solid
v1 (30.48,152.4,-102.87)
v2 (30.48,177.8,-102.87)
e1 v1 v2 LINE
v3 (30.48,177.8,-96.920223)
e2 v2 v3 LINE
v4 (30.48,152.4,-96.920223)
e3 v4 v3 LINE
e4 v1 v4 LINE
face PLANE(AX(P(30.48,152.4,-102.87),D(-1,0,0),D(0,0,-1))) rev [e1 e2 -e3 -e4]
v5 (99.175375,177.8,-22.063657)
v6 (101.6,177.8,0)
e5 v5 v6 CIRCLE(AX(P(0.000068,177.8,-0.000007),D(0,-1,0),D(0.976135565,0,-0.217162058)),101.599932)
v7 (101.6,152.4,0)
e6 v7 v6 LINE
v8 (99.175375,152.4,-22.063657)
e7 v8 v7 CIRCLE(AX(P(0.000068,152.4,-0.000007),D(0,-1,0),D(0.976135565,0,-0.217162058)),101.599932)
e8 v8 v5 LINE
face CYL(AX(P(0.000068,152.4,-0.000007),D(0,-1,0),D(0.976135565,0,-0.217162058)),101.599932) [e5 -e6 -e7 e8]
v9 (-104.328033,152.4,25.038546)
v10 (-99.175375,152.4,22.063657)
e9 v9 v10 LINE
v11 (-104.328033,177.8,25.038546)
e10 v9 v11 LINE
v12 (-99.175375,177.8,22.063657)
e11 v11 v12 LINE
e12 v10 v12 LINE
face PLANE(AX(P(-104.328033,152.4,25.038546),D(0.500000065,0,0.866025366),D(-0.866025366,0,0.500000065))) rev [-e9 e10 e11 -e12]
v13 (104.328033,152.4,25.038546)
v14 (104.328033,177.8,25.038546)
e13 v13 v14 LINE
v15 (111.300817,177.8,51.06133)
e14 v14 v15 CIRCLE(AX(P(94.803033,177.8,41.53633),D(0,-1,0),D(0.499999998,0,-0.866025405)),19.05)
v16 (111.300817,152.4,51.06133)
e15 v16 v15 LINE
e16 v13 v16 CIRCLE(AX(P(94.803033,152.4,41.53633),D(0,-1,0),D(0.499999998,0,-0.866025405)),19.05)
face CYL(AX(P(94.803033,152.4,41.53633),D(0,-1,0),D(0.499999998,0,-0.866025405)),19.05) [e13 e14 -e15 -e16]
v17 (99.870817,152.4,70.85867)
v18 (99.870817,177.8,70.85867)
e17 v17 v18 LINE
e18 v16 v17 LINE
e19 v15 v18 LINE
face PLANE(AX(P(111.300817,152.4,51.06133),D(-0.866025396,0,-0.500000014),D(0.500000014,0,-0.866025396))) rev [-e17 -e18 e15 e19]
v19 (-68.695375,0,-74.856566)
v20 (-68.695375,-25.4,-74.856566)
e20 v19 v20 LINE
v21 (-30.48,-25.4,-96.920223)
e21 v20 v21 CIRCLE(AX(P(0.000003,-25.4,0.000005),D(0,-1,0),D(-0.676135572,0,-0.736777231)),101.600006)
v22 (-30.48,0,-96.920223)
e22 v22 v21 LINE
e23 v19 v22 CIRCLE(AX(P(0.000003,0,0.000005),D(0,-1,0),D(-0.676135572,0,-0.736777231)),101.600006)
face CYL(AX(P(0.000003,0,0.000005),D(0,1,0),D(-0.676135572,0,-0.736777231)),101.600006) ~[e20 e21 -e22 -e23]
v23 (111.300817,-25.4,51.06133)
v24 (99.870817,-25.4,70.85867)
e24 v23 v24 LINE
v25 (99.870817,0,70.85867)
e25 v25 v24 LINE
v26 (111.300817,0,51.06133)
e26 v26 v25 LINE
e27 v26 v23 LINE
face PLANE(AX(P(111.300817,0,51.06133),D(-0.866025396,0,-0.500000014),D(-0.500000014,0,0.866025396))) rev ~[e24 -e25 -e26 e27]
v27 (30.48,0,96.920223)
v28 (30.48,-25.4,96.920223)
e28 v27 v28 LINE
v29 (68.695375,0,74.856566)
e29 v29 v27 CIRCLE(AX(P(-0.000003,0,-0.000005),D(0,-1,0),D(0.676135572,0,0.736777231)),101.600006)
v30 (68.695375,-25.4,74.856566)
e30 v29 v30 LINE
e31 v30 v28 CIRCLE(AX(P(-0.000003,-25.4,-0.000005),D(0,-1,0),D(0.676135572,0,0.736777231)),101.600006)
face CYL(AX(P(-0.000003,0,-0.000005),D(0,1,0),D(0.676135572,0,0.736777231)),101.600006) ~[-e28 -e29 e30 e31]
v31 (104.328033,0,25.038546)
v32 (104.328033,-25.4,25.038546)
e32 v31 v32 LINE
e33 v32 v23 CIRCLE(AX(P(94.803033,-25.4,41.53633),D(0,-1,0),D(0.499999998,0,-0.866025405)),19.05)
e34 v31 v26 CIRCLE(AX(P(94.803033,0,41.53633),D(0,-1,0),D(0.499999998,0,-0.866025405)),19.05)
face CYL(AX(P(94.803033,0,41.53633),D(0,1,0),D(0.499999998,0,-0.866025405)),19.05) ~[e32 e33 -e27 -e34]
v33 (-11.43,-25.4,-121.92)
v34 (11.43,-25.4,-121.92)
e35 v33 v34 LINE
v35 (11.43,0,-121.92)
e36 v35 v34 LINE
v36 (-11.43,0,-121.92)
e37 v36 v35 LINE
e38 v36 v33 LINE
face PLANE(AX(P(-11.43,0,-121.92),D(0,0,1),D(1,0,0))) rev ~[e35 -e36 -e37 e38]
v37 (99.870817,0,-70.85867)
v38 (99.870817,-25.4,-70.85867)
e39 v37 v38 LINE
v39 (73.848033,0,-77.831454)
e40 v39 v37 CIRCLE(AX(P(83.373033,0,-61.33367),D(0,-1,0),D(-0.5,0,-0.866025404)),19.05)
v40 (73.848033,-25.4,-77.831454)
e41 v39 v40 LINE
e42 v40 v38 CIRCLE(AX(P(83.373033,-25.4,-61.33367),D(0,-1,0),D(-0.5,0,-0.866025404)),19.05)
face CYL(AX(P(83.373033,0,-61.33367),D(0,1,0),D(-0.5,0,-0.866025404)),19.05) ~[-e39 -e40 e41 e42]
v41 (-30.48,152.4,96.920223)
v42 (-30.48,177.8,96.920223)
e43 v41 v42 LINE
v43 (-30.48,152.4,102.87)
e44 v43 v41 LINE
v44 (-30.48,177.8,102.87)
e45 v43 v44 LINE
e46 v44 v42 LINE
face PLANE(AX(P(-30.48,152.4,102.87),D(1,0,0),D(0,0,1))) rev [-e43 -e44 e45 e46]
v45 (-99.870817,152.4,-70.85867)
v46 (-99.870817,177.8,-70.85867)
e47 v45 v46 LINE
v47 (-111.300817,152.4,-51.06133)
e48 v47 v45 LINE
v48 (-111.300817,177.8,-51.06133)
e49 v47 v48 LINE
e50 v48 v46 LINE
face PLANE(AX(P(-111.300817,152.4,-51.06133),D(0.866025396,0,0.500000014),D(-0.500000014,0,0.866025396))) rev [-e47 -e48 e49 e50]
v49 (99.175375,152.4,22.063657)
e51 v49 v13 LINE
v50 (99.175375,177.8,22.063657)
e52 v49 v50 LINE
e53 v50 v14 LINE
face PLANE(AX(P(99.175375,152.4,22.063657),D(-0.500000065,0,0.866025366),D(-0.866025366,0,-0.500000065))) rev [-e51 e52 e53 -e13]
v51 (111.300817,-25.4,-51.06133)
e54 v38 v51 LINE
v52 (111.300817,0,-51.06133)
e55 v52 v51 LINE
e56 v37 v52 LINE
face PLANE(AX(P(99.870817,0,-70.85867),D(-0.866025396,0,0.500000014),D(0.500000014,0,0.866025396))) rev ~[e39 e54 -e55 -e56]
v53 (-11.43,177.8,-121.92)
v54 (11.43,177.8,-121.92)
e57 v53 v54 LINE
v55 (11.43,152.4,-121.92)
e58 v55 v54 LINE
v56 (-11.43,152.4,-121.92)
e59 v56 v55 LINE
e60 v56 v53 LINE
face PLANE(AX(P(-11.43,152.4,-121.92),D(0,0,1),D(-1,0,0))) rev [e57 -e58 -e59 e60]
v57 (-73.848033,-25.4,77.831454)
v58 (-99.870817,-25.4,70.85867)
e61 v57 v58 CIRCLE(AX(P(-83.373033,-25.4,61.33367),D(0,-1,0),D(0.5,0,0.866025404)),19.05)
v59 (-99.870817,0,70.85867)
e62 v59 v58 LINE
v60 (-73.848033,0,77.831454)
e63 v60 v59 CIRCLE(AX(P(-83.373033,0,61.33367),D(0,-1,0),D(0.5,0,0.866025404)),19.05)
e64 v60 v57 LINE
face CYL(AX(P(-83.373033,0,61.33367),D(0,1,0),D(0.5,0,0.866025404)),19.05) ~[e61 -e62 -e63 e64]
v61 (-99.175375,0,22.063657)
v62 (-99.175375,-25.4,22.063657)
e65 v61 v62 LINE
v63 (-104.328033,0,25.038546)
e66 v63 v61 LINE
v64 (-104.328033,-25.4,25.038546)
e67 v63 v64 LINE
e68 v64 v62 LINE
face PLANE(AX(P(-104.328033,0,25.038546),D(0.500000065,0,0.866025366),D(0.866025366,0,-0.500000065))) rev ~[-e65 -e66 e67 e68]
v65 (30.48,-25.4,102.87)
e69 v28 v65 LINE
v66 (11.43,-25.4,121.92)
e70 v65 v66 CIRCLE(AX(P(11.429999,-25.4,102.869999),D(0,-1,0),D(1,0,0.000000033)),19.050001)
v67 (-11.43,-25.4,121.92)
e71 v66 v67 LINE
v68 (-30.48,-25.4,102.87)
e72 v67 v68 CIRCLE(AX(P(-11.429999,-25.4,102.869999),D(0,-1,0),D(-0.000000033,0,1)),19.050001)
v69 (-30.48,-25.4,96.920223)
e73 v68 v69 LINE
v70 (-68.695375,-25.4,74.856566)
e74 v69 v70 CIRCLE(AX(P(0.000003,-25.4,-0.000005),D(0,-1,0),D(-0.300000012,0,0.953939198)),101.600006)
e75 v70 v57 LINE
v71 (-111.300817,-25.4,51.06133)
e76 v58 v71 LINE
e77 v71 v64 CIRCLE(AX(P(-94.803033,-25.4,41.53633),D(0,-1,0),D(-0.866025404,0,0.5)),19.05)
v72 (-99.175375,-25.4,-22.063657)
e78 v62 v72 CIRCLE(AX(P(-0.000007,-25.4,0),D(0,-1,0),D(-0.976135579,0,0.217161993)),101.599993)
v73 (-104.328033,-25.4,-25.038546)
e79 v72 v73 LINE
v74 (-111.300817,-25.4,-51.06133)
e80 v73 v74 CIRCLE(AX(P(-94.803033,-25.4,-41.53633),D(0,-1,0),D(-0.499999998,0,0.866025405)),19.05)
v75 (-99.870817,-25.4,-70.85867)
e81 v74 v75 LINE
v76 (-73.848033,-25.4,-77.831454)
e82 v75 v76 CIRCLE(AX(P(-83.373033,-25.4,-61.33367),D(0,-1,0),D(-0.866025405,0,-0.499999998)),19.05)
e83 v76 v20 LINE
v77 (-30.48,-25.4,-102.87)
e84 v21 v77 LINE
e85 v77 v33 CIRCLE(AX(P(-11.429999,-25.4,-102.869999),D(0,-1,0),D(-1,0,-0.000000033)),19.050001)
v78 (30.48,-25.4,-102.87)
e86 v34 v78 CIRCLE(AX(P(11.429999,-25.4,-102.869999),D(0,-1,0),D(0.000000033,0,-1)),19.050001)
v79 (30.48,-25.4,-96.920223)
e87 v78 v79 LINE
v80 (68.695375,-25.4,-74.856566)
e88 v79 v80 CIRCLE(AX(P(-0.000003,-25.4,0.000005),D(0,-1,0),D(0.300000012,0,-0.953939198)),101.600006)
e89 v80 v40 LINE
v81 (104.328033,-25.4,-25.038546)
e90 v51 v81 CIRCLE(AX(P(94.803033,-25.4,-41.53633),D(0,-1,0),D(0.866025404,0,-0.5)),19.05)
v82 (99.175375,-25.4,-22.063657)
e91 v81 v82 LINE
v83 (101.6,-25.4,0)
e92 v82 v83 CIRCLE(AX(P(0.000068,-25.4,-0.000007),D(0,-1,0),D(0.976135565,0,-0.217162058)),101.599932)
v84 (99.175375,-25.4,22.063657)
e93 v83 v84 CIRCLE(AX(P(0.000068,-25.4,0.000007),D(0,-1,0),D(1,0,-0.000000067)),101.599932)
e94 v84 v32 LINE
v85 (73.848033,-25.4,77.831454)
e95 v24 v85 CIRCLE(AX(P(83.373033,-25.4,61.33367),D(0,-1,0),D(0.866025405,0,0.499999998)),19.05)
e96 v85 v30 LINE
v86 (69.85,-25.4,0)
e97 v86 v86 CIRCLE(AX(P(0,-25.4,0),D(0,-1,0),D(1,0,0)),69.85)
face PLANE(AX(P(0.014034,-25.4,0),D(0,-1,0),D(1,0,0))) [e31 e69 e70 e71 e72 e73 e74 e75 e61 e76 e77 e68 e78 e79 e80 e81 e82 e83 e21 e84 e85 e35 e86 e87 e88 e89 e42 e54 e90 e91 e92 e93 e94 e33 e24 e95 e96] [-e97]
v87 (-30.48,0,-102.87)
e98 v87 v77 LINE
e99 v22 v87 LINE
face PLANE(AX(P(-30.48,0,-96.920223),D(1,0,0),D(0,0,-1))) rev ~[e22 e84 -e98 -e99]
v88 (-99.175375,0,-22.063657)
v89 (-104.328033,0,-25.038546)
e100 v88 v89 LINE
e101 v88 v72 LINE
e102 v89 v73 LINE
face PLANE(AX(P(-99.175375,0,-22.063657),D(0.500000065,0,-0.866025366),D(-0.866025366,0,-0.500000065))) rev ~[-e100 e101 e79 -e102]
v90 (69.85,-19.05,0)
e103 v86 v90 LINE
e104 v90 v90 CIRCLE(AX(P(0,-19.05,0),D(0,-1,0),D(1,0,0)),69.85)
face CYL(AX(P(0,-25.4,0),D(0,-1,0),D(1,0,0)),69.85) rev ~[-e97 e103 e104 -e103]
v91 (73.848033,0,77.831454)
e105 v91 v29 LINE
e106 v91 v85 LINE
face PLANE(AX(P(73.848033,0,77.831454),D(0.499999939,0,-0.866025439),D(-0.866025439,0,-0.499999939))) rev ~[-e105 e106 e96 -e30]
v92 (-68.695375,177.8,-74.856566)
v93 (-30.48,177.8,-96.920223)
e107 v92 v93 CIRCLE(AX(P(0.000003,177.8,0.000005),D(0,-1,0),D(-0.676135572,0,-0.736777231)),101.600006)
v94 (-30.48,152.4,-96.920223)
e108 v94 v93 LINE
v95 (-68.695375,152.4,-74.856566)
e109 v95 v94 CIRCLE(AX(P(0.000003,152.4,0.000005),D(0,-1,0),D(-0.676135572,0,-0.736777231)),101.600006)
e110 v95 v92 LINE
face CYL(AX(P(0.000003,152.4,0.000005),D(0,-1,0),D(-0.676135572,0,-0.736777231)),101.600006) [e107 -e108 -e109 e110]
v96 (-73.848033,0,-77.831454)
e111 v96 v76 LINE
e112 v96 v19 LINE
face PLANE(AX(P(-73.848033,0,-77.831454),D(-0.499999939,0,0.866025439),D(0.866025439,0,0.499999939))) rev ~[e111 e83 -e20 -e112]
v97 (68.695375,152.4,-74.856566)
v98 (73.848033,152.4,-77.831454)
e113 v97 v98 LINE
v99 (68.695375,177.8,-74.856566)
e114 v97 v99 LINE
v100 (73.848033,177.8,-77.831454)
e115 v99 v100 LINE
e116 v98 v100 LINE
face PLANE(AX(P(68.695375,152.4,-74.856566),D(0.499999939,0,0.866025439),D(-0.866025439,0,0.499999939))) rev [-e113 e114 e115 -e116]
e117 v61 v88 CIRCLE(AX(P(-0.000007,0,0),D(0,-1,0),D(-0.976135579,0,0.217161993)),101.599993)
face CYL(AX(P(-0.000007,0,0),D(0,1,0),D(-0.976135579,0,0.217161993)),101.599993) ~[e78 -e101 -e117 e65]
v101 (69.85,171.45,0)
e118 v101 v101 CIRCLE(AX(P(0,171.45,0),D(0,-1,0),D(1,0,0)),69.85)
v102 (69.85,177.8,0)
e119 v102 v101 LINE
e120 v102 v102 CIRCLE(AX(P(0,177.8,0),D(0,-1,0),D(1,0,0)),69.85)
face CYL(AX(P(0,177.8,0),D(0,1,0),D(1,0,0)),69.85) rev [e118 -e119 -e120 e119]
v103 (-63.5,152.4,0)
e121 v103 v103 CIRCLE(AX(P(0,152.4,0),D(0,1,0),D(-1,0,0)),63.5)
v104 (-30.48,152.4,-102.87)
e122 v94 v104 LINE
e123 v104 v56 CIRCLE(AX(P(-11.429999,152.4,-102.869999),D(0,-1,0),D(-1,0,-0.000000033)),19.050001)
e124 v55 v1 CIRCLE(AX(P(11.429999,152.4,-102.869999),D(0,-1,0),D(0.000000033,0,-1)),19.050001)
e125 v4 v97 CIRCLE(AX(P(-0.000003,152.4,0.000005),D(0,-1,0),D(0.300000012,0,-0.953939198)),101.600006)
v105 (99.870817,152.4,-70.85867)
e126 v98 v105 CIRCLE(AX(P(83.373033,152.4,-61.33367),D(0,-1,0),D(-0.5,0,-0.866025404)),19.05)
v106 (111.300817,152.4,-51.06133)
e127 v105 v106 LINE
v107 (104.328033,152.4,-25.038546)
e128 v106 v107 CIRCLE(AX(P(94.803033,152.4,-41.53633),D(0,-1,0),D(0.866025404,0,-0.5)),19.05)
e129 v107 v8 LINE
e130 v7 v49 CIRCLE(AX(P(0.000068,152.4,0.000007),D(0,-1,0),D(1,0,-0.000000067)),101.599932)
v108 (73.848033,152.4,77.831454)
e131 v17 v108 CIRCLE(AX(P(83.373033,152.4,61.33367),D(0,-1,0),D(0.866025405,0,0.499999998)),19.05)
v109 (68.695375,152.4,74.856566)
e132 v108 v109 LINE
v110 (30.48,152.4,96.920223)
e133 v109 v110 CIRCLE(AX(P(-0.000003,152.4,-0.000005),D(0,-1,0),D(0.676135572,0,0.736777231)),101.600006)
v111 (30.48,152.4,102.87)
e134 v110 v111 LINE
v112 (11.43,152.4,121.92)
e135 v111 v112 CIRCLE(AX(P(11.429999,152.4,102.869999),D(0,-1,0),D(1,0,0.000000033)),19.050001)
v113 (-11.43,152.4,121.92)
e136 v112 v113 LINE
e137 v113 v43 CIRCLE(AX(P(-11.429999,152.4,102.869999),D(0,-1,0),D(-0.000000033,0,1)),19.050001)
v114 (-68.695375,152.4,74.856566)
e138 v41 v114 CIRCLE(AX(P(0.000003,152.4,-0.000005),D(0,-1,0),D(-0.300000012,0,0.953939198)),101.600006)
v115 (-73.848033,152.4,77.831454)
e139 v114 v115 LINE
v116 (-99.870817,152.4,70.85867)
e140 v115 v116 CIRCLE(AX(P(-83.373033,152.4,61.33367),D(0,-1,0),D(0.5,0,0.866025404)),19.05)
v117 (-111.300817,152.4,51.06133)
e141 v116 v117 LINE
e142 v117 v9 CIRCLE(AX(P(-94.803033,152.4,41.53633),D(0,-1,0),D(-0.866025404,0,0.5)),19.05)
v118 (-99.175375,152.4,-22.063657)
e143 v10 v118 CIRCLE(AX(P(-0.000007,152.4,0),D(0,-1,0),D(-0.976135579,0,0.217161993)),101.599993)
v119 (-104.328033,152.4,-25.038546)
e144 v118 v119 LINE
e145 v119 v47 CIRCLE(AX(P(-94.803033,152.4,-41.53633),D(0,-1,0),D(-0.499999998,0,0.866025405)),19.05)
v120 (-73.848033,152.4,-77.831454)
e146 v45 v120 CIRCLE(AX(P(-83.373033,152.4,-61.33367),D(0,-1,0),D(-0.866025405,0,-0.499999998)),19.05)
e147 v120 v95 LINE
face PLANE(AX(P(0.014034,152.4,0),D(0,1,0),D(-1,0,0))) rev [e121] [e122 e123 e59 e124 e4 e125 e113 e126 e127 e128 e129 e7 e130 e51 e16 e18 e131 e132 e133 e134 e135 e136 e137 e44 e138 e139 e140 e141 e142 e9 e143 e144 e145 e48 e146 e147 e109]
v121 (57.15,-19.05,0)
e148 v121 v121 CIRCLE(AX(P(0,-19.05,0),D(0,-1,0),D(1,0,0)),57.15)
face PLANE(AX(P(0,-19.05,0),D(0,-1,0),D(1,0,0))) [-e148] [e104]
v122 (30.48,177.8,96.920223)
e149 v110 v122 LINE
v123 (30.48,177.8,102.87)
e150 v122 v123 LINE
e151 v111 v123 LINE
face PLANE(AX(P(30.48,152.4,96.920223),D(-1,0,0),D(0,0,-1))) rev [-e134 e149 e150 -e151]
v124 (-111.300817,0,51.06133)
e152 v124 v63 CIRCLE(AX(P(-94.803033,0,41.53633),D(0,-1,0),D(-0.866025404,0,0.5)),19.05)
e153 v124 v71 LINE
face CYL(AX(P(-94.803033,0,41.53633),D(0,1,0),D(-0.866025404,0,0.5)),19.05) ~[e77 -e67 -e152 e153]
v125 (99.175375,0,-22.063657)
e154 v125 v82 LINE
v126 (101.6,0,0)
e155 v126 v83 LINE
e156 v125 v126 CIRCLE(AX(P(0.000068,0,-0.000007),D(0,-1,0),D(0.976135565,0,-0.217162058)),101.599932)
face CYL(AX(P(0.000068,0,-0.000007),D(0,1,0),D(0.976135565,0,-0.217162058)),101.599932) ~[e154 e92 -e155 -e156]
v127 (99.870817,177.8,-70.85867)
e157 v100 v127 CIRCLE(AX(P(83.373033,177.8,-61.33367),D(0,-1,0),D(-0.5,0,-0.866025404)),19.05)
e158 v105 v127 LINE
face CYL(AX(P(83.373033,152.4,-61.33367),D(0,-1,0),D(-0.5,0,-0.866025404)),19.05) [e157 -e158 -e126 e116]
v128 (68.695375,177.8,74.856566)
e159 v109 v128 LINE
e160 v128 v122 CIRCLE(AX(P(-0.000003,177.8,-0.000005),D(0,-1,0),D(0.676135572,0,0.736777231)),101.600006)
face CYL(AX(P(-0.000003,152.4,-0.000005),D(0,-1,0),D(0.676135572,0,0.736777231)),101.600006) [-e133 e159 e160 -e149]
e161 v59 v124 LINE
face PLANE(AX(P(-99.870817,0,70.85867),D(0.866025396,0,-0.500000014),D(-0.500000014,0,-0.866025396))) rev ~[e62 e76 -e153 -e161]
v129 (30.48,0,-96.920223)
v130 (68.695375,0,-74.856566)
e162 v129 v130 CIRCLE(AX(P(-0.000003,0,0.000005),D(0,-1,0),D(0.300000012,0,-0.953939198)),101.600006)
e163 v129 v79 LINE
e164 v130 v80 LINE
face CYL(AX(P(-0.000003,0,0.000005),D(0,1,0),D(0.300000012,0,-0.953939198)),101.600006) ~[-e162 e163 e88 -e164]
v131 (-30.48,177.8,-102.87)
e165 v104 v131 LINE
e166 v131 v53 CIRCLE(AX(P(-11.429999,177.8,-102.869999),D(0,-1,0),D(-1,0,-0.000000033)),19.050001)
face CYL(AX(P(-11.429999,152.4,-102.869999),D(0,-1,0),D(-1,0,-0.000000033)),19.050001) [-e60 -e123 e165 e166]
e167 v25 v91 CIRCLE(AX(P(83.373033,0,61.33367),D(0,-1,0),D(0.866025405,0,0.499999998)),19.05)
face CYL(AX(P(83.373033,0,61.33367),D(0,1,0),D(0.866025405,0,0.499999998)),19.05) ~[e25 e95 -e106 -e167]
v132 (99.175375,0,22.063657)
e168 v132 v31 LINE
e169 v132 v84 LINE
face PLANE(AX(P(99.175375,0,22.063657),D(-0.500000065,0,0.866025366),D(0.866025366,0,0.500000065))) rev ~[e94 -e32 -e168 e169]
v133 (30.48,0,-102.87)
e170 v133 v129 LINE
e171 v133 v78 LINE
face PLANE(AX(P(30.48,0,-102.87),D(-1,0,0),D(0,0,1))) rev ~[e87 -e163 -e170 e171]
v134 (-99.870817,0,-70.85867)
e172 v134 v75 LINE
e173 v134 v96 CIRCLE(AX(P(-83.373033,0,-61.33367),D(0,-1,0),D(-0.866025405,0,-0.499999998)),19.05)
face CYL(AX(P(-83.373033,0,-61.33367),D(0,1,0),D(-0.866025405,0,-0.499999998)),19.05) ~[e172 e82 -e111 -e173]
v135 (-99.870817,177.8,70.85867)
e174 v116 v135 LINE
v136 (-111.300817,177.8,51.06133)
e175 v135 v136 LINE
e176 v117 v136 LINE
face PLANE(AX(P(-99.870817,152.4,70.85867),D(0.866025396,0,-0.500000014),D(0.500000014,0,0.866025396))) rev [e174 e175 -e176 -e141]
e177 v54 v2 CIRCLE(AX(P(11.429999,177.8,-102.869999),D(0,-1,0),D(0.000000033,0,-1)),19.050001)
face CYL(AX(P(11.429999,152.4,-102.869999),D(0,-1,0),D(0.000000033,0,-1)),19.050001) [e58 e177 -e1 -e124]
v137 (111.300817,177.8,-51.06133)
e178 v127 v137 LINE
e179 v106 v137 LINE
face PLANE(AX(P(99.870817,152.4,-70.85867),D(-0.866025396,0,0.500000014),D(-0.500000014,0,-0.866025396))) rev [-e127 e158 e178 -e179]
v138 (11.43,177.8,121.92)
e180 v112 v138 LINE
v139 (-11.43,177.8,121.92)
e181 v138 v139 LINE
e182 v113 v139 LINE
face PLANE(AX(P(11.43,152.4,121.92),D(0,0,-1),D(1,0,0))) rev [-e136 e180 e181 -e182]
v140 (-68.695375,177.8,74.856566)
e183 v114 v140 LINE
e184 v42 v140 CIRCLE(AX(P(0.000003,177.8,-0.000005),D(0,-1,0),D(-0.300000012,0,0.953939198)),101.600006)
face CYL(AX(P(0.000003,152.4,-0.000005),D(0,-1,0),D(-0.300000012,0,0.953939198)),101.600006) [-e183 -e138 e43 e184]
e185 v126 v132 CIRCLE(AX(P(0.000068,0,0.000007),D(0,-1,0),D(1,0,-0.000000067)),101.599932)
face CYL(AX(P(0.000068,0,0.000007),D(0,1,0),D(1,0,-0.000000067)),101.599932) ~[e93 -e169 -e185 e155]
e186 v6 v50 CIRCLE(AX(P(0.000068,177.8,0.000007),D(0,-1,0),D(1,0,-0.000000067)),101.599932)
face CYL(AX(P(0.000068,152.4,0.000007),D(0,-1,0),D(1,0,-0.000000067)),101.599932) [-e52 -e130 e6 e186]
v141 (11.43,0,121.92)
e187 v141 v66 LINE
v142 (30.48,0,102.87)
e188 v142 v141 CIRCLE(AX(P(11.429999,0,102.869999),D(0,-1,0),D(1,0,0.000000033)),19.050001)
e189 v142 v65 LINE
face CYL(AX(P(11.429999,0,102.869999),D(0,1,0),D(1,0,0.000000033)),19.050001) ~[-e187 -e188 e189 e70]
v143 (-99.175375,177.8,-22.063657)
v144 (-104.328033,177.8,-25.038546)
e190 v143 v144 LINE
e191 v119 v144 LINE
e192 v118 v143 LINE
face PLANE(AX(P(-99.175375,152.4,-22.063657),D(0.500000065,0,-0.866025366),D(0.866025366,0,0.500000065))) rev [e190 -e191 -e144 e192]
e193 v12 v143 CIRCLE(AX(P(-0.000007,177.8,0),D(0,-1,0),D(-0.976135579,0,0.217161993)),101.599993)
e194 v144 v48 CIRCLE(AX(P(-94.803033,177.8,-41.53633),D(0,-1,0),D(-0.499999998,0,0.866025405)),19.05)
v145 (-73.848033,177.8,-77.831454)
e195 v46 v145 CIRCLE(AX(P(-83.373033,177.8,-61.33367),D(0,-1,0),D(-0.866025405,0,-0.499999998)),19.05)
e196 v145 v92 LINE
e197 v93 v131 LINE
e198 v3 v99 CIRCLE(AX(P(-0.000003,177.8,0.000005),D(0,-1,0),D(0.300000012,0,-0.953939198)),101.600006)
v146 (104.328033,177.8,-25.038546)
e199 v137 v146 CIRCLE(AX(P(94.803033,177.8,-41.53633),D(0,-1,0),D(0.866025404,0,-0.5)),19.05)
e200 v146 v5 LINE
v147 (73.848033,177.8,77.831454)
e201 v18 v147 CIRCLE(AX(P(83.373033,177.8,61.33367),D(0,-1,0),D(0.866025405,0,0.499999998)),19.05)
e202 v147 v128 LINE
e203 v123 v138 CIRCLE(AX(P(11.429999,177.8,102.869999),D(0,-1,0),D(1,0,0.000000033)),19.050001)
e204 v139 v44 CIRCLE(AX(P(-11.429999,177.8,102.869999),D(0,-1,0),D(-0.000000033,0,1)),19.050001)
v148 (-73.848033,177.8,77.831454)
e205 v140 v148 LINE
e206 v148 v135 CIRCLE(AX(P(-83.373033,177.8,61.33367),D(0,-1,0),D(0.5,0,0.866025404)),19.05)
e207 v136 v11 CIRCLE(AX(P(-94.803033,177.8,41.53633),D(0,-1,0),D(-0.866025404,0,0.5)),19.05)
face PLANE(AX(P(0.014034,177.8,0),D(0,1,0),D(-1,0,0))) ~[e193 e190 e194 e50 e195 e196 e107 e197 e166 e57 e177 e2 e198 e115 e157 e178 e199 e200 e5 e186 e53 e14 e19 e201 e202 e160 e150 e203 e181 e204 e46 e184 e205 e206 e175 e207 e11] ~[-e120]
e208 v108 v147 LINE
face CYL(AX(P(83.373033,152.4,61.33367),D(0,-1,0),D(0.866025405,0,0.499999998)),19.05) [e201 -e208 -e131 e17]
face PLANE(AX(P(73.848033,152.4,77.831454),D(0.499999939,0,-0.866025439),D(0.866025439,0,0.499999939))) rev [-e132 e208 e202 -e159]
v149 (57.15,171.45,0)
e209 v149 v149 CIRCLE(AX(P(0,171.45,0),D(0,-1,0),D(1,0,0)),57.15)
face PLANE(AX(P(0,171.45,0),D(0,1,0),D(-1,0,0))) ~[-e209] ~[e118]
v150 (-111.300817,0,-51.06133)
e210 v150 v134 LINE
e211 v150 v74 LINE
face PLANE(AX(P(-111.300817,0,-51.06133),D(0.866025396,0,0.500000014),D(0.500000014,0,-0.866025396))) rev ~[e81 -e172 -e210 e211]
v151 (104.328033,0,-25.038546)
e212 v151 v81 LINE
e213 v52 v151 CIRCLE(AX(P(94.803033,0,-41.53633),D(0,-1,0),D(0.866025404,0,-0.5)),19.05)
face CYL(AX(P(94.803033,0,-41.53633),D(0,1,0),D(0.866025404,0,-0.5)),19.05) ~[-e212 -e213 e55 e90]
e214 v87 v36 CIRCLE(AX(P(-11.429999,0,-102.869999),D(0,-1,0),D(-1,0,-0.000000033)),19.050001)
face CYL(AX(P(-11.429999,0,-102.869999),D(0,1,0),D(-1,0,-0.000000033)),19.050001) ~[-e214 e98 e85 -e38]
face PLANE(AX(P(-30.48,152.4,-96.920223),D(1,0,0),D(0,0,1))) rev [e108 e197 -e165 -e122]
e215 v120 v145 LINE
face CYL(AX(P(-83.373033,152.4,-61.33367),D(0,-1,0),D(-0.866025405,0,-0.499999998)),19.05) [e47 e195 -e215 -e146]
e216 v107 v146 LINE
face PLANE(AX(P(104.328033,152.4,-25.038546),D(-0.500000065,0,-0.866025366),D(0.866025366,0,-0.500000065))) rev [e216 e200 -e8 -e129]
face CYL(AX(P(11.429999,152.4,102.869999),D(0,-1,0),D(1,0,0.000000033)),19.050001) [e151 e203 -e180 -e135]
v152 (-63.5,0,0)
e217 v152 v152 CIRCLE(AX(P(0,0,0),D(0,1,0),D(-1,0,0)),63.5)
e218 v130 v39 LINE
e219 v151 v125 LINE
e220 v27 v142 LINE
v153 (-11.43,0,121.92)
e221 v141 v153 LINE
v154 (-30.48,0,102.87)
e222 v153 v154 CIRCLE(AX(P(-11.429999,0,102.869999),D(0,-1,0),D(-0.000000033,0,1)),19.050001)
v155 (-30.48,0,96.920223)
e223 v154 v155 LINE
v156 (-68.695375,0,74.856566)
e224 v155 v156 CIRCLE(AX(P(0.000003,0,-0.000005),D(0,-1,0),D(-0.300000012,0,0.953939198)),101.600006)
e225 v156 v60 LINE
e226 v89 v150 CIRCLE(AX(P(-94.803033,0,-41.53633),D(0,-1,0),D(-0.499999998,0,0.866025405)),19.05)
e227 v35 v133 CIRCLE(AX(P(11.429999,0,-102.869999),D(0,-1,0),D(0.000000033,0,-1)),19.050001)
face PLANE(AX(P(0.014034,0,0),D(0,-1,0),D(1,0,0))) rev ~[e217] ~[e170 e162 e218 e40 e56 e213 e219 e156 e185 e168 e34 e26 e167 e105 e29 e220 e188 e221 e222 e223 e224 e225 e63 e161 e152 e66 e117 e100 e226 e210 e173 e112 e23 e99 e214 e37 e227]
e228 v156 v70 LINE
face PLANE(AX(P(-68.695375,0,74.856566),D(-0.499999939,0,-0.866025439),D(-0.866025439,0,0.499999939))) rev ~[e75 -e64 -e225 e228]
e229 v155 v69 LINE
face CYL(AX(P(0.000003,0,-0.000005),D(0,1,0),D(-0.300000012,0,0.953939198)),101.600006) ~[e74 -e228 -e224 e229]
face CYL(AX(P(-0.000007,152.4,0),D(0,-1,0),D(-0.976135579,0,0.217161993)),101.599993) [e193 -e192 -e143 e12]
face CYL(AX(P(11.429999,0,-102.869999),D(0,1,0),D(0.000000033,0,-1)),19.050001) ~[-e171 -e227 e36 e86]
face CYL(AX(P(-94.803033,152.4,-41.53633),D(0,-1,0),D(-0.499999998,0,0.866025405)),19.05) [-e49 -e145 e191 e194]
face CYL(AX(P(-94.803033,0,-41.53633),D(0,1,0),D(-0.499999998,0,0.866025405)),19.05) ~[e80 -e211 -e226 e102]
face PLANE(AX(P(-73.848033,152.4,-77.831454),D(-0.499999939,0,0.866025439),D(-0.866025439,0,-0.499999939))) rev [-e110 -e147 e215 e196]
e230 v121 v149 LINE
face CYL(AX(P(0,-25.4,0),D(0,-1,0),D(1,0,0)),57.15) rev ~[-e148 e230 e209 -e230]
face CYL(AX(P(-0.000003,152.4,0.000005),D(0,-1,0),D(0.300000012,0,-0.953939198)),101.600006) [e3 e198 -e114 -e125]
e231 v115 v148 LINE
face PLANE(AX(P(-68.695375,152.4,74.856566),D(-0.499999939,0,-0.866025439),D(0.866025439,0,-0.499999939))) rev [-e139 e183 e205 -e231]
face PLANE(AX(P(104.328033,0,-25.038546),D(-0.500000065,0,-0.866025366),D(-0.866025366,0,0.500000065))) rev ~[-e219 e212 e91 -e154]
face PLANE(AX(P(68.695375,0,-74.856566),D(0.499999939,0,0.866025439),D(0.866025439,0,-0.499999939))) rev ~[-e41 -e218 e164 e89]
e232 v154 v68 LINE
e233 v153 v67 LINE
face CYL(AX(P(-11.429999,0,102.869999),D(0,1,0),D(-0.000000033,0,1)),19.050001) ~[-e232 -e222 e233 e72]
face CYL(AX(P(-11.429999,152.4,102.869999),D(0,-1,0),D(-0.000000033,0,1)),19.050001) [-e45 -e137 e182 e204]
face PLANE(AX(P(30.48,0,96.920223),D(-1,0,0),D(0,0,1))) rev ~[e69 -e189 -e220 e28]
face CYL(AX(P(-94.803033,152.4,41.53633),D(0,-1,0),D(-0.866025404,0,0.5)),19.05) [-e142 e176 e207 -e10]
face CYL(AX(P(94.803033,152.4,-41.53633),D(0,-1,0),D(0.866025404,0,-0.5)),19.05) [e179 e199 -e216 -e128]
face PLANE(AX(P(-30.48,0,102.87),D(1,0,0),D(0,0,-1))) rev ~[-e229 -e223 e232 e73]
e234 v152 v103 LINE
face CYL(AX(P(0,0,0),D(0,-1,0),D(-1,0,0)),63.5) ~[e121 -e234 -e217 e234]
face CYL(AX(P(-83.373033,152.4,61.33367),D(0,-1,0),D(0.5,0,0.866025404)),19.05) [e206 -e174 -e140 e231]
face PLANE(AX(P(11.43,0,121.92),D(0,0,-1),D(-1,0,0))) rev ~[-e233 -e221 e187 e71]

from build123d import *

# Parameters (mm, degrees)
F1_DEPTH = 25.4
F2_R     = 63.5
F3_DEPTH = 152.4
F6_R     = 57.15
F7_DEPTH = 228.6
F8_R     = 69.85
F8_R_2   = 57.15
F9_DEPTH = 6.35


with BuildPart() as f1:
    # F0 (on Front) → F1 (new body)
    with BuildSketch(Plane.XZ):
        with BuildLine():
            ThreePointArc((99.175375, -22.063657), (100.992025, -11.098241), (101.6, 0))
            ThreePointArc((101.6, 0), (100.992025, 11.098241), (99.175375, 22.063657))
            ThreePointArc((99.175375, 22.063657), (87.988181, 50.8), (68.695375, 74.856566))
            ThreePointArc((68.695375, 74.856566), (50.8, 87.988181), (30.48, 96.920223))
            ThreePointArc((30.48, 96.920223), (0, 101.6), (-30.48, 96.920223))
            ThreePointArc((-30.48, 96.920223), (-50.8, 87.988181), (-68.695375, 74.856566))
            ThreePointArc((-68.695375, 74.856566), (-87.988181, 50.8), (-99.175375, 22.063657))
            ThreePointArc((-99.175375, 22.063657), (-101.6, 0), (-99.175375, -22.063657))
            ThreePointArc((-99.175375, -22.063657), (-87.988181, -50.8), (-68.695375, -74.856566))
            ThreePointArc((-68.695375, -74.856566), (-50.8, -87.988181), (-30.48, -96.920223))
            ThreePointArc((-30.48, -96.920223), (0, -101.6), (30.48, -96.920223))
            ThreePointArc((30.48, -96.920223), (50.8, -87.988181), (68.695375, -74.856566))
            ThreePointArc((68.695375, -74.856566), (87.988181, -50.8), (99.175375, -22.063657))
        make_face()
        with BuildLine():
            ThreePointArc((-30.48, 96.920223), (0, 101.6), (30.48, 96.920223))
            Line((30.48, 96.920223), (30.48, 102.87))
            ThreePointArc((30.48, 102.87), (24.900384, 116.340384), (11.43, 121.92))
            Line((11.43, 121.92), (-11.43, 121.92))
            ThreePointArc((-11.43, 121.92), (-24.900384, 116.340384), (-30.48, 102.87))
            Line((-30.48, 102.87), (-30.48, 96.920223))
        make_face()
        with BuildLine():
            ThreePointArc((68.695375, 74.856566), (87.988181, 50.8), (99.175375, 22.063657))
            Line((99.175375, 22.063657), (104.328033, 25.038546))
            ThreePointArc((104.328033, 25.038546), (113.20392, 36.605827), (111.300817, 51.06133))
            Line((111.300817, 51.06133), (99.870817, 70.85867))
            ThreePointArc((99.870817, 70.85867), (88.303536, 79.734557), (73.848033, 77.831454))
            Line((73.848033, 77.831454), (68.695375, 74.856566))
        make_face()
        with BuildLine():
            Line((104.328033, -25.038546), (99.175375, -22.063657))
            ThreePointArc((99.175375, -22.063657), (87.988181, -50.8), (68.695375, -74.856566))
            Line((68.695375, -74.856566), (73.848033, -77.831454))
            ThreePointArc((73.848033, -77.831454), (88.303536, -79.734557), (99.870817, -70.85867))
            Line((99.870817, -70.85867), (111.300817, -51.06133))
            ThreePointArc((111.300817, -51.06133), (113.20392, -36.605827), (104.328033, -25.038546))
        make_face()
        with BuildLine():
            Line((30.48, -102.87), (30.48, -96.920223))
            ThreePointArc((30.48, -96.920223), (0, -101.6), (-30.48, -96.920223))
            Line((-30.48, -96.920223), (-30.48, -102.87))
            ThreePointArc((-30.48, -102.87), (-24.900384, -116.340384), (-11.43, -121.92))
            Line((-11.43, -121.92), (11.43, -121.92))
            ThreePointArc((11.43, -121.92), (24.900384, -116.340384), (30.48, -102.87))
        make_face()
        with BuildLine():
            Line((-73.848033, -77.831454), (-68.695375, -74.856566))
            ThreePointArc((-68.695375, -74.856566), (-87.988181, -50.8), (-99.175375, -22.063657))
            Line((-99.175375, -22.063657), (-104.328033, -25.038546))
            ThreePointArc((-104.328033, -25.038546), (-113.20392, -36.605827), (-111.300817, -51.06133))
            Line((-111.300817, -51.06133), (-99.870817, -70.85867))
            ThreePointArc((-99.870817, -70.85867), (-88.303536, -79.734557), (-73.848033, -77.831454))
        make_face()
        with BuildLine():
            ThreePointArc((-99.175375, 22.063657), (-87.988181, 50.8), (-68.695375, 74.856566))
            Line((-68.695375, 74.856566), (-73.848033, 77.831454))
            ThreePointArc((-73.848033, 77.831454), (-88.303536, 79.734557), (-99.870817, 70.85867))
            Line((-99.870817, 70.85867), (-111.300817, 51.06133))
            ThreePointArc((-111.300817, 51.06133), (-113.20392, 36.605827), (-104.328033, 25.038546))
            Line((-104.328033, 25.038546), (-99.175375, 22.063657))
        make_face()
    extrude(amount=F1_DEPTH)

    # F2 (on face) → F3 (join)
    with BuildSketch(Plane(origin=(0, 0, 0), x_dir=(-1, 0, 0), z_dir=(0, 1, 0))):
        Circle(F2_R)
    extrude(amount=F3_DEPTH)

    # F5: F1 across plane


with BuildPart() as f1_1:
    add(f1.part)
    add(f1.part.mirror(Plane(origin=(0, 76.2, 0), x_dir=(1, 0, 0), z_dir=(0, 1, 0))))

    # F6 (on face) → F7 (cut)
    with BuildSketch(Plane.XZ.offset(25.4)):
        Circle(F6_R)
    extrude(amount=-F7_DEPTH, mode=Mode.SUBTRACT)

    # F8 (on face) → F9 (cut)
    with BuildSketch(Plane.XZ.offset(25.4)):
        Circle(F8_R)
        Circle(F8_R_2, mode=Mode.SUBTRACT)
    extrude(amount=-F9_DEPTH, mode=Mode.SUBTRACT)

    # F10: F1 across plane


with BuildPart() as f1_2:
    add(f1_1.part)
    add(f1_1.part.mirror(Plane(origin=(0, 76.2, 0), x_dir=(1, 0, 0), z_dir=(0, 1, 0))), mode=Mode.INTERSECT)


solid = f1_2.part
